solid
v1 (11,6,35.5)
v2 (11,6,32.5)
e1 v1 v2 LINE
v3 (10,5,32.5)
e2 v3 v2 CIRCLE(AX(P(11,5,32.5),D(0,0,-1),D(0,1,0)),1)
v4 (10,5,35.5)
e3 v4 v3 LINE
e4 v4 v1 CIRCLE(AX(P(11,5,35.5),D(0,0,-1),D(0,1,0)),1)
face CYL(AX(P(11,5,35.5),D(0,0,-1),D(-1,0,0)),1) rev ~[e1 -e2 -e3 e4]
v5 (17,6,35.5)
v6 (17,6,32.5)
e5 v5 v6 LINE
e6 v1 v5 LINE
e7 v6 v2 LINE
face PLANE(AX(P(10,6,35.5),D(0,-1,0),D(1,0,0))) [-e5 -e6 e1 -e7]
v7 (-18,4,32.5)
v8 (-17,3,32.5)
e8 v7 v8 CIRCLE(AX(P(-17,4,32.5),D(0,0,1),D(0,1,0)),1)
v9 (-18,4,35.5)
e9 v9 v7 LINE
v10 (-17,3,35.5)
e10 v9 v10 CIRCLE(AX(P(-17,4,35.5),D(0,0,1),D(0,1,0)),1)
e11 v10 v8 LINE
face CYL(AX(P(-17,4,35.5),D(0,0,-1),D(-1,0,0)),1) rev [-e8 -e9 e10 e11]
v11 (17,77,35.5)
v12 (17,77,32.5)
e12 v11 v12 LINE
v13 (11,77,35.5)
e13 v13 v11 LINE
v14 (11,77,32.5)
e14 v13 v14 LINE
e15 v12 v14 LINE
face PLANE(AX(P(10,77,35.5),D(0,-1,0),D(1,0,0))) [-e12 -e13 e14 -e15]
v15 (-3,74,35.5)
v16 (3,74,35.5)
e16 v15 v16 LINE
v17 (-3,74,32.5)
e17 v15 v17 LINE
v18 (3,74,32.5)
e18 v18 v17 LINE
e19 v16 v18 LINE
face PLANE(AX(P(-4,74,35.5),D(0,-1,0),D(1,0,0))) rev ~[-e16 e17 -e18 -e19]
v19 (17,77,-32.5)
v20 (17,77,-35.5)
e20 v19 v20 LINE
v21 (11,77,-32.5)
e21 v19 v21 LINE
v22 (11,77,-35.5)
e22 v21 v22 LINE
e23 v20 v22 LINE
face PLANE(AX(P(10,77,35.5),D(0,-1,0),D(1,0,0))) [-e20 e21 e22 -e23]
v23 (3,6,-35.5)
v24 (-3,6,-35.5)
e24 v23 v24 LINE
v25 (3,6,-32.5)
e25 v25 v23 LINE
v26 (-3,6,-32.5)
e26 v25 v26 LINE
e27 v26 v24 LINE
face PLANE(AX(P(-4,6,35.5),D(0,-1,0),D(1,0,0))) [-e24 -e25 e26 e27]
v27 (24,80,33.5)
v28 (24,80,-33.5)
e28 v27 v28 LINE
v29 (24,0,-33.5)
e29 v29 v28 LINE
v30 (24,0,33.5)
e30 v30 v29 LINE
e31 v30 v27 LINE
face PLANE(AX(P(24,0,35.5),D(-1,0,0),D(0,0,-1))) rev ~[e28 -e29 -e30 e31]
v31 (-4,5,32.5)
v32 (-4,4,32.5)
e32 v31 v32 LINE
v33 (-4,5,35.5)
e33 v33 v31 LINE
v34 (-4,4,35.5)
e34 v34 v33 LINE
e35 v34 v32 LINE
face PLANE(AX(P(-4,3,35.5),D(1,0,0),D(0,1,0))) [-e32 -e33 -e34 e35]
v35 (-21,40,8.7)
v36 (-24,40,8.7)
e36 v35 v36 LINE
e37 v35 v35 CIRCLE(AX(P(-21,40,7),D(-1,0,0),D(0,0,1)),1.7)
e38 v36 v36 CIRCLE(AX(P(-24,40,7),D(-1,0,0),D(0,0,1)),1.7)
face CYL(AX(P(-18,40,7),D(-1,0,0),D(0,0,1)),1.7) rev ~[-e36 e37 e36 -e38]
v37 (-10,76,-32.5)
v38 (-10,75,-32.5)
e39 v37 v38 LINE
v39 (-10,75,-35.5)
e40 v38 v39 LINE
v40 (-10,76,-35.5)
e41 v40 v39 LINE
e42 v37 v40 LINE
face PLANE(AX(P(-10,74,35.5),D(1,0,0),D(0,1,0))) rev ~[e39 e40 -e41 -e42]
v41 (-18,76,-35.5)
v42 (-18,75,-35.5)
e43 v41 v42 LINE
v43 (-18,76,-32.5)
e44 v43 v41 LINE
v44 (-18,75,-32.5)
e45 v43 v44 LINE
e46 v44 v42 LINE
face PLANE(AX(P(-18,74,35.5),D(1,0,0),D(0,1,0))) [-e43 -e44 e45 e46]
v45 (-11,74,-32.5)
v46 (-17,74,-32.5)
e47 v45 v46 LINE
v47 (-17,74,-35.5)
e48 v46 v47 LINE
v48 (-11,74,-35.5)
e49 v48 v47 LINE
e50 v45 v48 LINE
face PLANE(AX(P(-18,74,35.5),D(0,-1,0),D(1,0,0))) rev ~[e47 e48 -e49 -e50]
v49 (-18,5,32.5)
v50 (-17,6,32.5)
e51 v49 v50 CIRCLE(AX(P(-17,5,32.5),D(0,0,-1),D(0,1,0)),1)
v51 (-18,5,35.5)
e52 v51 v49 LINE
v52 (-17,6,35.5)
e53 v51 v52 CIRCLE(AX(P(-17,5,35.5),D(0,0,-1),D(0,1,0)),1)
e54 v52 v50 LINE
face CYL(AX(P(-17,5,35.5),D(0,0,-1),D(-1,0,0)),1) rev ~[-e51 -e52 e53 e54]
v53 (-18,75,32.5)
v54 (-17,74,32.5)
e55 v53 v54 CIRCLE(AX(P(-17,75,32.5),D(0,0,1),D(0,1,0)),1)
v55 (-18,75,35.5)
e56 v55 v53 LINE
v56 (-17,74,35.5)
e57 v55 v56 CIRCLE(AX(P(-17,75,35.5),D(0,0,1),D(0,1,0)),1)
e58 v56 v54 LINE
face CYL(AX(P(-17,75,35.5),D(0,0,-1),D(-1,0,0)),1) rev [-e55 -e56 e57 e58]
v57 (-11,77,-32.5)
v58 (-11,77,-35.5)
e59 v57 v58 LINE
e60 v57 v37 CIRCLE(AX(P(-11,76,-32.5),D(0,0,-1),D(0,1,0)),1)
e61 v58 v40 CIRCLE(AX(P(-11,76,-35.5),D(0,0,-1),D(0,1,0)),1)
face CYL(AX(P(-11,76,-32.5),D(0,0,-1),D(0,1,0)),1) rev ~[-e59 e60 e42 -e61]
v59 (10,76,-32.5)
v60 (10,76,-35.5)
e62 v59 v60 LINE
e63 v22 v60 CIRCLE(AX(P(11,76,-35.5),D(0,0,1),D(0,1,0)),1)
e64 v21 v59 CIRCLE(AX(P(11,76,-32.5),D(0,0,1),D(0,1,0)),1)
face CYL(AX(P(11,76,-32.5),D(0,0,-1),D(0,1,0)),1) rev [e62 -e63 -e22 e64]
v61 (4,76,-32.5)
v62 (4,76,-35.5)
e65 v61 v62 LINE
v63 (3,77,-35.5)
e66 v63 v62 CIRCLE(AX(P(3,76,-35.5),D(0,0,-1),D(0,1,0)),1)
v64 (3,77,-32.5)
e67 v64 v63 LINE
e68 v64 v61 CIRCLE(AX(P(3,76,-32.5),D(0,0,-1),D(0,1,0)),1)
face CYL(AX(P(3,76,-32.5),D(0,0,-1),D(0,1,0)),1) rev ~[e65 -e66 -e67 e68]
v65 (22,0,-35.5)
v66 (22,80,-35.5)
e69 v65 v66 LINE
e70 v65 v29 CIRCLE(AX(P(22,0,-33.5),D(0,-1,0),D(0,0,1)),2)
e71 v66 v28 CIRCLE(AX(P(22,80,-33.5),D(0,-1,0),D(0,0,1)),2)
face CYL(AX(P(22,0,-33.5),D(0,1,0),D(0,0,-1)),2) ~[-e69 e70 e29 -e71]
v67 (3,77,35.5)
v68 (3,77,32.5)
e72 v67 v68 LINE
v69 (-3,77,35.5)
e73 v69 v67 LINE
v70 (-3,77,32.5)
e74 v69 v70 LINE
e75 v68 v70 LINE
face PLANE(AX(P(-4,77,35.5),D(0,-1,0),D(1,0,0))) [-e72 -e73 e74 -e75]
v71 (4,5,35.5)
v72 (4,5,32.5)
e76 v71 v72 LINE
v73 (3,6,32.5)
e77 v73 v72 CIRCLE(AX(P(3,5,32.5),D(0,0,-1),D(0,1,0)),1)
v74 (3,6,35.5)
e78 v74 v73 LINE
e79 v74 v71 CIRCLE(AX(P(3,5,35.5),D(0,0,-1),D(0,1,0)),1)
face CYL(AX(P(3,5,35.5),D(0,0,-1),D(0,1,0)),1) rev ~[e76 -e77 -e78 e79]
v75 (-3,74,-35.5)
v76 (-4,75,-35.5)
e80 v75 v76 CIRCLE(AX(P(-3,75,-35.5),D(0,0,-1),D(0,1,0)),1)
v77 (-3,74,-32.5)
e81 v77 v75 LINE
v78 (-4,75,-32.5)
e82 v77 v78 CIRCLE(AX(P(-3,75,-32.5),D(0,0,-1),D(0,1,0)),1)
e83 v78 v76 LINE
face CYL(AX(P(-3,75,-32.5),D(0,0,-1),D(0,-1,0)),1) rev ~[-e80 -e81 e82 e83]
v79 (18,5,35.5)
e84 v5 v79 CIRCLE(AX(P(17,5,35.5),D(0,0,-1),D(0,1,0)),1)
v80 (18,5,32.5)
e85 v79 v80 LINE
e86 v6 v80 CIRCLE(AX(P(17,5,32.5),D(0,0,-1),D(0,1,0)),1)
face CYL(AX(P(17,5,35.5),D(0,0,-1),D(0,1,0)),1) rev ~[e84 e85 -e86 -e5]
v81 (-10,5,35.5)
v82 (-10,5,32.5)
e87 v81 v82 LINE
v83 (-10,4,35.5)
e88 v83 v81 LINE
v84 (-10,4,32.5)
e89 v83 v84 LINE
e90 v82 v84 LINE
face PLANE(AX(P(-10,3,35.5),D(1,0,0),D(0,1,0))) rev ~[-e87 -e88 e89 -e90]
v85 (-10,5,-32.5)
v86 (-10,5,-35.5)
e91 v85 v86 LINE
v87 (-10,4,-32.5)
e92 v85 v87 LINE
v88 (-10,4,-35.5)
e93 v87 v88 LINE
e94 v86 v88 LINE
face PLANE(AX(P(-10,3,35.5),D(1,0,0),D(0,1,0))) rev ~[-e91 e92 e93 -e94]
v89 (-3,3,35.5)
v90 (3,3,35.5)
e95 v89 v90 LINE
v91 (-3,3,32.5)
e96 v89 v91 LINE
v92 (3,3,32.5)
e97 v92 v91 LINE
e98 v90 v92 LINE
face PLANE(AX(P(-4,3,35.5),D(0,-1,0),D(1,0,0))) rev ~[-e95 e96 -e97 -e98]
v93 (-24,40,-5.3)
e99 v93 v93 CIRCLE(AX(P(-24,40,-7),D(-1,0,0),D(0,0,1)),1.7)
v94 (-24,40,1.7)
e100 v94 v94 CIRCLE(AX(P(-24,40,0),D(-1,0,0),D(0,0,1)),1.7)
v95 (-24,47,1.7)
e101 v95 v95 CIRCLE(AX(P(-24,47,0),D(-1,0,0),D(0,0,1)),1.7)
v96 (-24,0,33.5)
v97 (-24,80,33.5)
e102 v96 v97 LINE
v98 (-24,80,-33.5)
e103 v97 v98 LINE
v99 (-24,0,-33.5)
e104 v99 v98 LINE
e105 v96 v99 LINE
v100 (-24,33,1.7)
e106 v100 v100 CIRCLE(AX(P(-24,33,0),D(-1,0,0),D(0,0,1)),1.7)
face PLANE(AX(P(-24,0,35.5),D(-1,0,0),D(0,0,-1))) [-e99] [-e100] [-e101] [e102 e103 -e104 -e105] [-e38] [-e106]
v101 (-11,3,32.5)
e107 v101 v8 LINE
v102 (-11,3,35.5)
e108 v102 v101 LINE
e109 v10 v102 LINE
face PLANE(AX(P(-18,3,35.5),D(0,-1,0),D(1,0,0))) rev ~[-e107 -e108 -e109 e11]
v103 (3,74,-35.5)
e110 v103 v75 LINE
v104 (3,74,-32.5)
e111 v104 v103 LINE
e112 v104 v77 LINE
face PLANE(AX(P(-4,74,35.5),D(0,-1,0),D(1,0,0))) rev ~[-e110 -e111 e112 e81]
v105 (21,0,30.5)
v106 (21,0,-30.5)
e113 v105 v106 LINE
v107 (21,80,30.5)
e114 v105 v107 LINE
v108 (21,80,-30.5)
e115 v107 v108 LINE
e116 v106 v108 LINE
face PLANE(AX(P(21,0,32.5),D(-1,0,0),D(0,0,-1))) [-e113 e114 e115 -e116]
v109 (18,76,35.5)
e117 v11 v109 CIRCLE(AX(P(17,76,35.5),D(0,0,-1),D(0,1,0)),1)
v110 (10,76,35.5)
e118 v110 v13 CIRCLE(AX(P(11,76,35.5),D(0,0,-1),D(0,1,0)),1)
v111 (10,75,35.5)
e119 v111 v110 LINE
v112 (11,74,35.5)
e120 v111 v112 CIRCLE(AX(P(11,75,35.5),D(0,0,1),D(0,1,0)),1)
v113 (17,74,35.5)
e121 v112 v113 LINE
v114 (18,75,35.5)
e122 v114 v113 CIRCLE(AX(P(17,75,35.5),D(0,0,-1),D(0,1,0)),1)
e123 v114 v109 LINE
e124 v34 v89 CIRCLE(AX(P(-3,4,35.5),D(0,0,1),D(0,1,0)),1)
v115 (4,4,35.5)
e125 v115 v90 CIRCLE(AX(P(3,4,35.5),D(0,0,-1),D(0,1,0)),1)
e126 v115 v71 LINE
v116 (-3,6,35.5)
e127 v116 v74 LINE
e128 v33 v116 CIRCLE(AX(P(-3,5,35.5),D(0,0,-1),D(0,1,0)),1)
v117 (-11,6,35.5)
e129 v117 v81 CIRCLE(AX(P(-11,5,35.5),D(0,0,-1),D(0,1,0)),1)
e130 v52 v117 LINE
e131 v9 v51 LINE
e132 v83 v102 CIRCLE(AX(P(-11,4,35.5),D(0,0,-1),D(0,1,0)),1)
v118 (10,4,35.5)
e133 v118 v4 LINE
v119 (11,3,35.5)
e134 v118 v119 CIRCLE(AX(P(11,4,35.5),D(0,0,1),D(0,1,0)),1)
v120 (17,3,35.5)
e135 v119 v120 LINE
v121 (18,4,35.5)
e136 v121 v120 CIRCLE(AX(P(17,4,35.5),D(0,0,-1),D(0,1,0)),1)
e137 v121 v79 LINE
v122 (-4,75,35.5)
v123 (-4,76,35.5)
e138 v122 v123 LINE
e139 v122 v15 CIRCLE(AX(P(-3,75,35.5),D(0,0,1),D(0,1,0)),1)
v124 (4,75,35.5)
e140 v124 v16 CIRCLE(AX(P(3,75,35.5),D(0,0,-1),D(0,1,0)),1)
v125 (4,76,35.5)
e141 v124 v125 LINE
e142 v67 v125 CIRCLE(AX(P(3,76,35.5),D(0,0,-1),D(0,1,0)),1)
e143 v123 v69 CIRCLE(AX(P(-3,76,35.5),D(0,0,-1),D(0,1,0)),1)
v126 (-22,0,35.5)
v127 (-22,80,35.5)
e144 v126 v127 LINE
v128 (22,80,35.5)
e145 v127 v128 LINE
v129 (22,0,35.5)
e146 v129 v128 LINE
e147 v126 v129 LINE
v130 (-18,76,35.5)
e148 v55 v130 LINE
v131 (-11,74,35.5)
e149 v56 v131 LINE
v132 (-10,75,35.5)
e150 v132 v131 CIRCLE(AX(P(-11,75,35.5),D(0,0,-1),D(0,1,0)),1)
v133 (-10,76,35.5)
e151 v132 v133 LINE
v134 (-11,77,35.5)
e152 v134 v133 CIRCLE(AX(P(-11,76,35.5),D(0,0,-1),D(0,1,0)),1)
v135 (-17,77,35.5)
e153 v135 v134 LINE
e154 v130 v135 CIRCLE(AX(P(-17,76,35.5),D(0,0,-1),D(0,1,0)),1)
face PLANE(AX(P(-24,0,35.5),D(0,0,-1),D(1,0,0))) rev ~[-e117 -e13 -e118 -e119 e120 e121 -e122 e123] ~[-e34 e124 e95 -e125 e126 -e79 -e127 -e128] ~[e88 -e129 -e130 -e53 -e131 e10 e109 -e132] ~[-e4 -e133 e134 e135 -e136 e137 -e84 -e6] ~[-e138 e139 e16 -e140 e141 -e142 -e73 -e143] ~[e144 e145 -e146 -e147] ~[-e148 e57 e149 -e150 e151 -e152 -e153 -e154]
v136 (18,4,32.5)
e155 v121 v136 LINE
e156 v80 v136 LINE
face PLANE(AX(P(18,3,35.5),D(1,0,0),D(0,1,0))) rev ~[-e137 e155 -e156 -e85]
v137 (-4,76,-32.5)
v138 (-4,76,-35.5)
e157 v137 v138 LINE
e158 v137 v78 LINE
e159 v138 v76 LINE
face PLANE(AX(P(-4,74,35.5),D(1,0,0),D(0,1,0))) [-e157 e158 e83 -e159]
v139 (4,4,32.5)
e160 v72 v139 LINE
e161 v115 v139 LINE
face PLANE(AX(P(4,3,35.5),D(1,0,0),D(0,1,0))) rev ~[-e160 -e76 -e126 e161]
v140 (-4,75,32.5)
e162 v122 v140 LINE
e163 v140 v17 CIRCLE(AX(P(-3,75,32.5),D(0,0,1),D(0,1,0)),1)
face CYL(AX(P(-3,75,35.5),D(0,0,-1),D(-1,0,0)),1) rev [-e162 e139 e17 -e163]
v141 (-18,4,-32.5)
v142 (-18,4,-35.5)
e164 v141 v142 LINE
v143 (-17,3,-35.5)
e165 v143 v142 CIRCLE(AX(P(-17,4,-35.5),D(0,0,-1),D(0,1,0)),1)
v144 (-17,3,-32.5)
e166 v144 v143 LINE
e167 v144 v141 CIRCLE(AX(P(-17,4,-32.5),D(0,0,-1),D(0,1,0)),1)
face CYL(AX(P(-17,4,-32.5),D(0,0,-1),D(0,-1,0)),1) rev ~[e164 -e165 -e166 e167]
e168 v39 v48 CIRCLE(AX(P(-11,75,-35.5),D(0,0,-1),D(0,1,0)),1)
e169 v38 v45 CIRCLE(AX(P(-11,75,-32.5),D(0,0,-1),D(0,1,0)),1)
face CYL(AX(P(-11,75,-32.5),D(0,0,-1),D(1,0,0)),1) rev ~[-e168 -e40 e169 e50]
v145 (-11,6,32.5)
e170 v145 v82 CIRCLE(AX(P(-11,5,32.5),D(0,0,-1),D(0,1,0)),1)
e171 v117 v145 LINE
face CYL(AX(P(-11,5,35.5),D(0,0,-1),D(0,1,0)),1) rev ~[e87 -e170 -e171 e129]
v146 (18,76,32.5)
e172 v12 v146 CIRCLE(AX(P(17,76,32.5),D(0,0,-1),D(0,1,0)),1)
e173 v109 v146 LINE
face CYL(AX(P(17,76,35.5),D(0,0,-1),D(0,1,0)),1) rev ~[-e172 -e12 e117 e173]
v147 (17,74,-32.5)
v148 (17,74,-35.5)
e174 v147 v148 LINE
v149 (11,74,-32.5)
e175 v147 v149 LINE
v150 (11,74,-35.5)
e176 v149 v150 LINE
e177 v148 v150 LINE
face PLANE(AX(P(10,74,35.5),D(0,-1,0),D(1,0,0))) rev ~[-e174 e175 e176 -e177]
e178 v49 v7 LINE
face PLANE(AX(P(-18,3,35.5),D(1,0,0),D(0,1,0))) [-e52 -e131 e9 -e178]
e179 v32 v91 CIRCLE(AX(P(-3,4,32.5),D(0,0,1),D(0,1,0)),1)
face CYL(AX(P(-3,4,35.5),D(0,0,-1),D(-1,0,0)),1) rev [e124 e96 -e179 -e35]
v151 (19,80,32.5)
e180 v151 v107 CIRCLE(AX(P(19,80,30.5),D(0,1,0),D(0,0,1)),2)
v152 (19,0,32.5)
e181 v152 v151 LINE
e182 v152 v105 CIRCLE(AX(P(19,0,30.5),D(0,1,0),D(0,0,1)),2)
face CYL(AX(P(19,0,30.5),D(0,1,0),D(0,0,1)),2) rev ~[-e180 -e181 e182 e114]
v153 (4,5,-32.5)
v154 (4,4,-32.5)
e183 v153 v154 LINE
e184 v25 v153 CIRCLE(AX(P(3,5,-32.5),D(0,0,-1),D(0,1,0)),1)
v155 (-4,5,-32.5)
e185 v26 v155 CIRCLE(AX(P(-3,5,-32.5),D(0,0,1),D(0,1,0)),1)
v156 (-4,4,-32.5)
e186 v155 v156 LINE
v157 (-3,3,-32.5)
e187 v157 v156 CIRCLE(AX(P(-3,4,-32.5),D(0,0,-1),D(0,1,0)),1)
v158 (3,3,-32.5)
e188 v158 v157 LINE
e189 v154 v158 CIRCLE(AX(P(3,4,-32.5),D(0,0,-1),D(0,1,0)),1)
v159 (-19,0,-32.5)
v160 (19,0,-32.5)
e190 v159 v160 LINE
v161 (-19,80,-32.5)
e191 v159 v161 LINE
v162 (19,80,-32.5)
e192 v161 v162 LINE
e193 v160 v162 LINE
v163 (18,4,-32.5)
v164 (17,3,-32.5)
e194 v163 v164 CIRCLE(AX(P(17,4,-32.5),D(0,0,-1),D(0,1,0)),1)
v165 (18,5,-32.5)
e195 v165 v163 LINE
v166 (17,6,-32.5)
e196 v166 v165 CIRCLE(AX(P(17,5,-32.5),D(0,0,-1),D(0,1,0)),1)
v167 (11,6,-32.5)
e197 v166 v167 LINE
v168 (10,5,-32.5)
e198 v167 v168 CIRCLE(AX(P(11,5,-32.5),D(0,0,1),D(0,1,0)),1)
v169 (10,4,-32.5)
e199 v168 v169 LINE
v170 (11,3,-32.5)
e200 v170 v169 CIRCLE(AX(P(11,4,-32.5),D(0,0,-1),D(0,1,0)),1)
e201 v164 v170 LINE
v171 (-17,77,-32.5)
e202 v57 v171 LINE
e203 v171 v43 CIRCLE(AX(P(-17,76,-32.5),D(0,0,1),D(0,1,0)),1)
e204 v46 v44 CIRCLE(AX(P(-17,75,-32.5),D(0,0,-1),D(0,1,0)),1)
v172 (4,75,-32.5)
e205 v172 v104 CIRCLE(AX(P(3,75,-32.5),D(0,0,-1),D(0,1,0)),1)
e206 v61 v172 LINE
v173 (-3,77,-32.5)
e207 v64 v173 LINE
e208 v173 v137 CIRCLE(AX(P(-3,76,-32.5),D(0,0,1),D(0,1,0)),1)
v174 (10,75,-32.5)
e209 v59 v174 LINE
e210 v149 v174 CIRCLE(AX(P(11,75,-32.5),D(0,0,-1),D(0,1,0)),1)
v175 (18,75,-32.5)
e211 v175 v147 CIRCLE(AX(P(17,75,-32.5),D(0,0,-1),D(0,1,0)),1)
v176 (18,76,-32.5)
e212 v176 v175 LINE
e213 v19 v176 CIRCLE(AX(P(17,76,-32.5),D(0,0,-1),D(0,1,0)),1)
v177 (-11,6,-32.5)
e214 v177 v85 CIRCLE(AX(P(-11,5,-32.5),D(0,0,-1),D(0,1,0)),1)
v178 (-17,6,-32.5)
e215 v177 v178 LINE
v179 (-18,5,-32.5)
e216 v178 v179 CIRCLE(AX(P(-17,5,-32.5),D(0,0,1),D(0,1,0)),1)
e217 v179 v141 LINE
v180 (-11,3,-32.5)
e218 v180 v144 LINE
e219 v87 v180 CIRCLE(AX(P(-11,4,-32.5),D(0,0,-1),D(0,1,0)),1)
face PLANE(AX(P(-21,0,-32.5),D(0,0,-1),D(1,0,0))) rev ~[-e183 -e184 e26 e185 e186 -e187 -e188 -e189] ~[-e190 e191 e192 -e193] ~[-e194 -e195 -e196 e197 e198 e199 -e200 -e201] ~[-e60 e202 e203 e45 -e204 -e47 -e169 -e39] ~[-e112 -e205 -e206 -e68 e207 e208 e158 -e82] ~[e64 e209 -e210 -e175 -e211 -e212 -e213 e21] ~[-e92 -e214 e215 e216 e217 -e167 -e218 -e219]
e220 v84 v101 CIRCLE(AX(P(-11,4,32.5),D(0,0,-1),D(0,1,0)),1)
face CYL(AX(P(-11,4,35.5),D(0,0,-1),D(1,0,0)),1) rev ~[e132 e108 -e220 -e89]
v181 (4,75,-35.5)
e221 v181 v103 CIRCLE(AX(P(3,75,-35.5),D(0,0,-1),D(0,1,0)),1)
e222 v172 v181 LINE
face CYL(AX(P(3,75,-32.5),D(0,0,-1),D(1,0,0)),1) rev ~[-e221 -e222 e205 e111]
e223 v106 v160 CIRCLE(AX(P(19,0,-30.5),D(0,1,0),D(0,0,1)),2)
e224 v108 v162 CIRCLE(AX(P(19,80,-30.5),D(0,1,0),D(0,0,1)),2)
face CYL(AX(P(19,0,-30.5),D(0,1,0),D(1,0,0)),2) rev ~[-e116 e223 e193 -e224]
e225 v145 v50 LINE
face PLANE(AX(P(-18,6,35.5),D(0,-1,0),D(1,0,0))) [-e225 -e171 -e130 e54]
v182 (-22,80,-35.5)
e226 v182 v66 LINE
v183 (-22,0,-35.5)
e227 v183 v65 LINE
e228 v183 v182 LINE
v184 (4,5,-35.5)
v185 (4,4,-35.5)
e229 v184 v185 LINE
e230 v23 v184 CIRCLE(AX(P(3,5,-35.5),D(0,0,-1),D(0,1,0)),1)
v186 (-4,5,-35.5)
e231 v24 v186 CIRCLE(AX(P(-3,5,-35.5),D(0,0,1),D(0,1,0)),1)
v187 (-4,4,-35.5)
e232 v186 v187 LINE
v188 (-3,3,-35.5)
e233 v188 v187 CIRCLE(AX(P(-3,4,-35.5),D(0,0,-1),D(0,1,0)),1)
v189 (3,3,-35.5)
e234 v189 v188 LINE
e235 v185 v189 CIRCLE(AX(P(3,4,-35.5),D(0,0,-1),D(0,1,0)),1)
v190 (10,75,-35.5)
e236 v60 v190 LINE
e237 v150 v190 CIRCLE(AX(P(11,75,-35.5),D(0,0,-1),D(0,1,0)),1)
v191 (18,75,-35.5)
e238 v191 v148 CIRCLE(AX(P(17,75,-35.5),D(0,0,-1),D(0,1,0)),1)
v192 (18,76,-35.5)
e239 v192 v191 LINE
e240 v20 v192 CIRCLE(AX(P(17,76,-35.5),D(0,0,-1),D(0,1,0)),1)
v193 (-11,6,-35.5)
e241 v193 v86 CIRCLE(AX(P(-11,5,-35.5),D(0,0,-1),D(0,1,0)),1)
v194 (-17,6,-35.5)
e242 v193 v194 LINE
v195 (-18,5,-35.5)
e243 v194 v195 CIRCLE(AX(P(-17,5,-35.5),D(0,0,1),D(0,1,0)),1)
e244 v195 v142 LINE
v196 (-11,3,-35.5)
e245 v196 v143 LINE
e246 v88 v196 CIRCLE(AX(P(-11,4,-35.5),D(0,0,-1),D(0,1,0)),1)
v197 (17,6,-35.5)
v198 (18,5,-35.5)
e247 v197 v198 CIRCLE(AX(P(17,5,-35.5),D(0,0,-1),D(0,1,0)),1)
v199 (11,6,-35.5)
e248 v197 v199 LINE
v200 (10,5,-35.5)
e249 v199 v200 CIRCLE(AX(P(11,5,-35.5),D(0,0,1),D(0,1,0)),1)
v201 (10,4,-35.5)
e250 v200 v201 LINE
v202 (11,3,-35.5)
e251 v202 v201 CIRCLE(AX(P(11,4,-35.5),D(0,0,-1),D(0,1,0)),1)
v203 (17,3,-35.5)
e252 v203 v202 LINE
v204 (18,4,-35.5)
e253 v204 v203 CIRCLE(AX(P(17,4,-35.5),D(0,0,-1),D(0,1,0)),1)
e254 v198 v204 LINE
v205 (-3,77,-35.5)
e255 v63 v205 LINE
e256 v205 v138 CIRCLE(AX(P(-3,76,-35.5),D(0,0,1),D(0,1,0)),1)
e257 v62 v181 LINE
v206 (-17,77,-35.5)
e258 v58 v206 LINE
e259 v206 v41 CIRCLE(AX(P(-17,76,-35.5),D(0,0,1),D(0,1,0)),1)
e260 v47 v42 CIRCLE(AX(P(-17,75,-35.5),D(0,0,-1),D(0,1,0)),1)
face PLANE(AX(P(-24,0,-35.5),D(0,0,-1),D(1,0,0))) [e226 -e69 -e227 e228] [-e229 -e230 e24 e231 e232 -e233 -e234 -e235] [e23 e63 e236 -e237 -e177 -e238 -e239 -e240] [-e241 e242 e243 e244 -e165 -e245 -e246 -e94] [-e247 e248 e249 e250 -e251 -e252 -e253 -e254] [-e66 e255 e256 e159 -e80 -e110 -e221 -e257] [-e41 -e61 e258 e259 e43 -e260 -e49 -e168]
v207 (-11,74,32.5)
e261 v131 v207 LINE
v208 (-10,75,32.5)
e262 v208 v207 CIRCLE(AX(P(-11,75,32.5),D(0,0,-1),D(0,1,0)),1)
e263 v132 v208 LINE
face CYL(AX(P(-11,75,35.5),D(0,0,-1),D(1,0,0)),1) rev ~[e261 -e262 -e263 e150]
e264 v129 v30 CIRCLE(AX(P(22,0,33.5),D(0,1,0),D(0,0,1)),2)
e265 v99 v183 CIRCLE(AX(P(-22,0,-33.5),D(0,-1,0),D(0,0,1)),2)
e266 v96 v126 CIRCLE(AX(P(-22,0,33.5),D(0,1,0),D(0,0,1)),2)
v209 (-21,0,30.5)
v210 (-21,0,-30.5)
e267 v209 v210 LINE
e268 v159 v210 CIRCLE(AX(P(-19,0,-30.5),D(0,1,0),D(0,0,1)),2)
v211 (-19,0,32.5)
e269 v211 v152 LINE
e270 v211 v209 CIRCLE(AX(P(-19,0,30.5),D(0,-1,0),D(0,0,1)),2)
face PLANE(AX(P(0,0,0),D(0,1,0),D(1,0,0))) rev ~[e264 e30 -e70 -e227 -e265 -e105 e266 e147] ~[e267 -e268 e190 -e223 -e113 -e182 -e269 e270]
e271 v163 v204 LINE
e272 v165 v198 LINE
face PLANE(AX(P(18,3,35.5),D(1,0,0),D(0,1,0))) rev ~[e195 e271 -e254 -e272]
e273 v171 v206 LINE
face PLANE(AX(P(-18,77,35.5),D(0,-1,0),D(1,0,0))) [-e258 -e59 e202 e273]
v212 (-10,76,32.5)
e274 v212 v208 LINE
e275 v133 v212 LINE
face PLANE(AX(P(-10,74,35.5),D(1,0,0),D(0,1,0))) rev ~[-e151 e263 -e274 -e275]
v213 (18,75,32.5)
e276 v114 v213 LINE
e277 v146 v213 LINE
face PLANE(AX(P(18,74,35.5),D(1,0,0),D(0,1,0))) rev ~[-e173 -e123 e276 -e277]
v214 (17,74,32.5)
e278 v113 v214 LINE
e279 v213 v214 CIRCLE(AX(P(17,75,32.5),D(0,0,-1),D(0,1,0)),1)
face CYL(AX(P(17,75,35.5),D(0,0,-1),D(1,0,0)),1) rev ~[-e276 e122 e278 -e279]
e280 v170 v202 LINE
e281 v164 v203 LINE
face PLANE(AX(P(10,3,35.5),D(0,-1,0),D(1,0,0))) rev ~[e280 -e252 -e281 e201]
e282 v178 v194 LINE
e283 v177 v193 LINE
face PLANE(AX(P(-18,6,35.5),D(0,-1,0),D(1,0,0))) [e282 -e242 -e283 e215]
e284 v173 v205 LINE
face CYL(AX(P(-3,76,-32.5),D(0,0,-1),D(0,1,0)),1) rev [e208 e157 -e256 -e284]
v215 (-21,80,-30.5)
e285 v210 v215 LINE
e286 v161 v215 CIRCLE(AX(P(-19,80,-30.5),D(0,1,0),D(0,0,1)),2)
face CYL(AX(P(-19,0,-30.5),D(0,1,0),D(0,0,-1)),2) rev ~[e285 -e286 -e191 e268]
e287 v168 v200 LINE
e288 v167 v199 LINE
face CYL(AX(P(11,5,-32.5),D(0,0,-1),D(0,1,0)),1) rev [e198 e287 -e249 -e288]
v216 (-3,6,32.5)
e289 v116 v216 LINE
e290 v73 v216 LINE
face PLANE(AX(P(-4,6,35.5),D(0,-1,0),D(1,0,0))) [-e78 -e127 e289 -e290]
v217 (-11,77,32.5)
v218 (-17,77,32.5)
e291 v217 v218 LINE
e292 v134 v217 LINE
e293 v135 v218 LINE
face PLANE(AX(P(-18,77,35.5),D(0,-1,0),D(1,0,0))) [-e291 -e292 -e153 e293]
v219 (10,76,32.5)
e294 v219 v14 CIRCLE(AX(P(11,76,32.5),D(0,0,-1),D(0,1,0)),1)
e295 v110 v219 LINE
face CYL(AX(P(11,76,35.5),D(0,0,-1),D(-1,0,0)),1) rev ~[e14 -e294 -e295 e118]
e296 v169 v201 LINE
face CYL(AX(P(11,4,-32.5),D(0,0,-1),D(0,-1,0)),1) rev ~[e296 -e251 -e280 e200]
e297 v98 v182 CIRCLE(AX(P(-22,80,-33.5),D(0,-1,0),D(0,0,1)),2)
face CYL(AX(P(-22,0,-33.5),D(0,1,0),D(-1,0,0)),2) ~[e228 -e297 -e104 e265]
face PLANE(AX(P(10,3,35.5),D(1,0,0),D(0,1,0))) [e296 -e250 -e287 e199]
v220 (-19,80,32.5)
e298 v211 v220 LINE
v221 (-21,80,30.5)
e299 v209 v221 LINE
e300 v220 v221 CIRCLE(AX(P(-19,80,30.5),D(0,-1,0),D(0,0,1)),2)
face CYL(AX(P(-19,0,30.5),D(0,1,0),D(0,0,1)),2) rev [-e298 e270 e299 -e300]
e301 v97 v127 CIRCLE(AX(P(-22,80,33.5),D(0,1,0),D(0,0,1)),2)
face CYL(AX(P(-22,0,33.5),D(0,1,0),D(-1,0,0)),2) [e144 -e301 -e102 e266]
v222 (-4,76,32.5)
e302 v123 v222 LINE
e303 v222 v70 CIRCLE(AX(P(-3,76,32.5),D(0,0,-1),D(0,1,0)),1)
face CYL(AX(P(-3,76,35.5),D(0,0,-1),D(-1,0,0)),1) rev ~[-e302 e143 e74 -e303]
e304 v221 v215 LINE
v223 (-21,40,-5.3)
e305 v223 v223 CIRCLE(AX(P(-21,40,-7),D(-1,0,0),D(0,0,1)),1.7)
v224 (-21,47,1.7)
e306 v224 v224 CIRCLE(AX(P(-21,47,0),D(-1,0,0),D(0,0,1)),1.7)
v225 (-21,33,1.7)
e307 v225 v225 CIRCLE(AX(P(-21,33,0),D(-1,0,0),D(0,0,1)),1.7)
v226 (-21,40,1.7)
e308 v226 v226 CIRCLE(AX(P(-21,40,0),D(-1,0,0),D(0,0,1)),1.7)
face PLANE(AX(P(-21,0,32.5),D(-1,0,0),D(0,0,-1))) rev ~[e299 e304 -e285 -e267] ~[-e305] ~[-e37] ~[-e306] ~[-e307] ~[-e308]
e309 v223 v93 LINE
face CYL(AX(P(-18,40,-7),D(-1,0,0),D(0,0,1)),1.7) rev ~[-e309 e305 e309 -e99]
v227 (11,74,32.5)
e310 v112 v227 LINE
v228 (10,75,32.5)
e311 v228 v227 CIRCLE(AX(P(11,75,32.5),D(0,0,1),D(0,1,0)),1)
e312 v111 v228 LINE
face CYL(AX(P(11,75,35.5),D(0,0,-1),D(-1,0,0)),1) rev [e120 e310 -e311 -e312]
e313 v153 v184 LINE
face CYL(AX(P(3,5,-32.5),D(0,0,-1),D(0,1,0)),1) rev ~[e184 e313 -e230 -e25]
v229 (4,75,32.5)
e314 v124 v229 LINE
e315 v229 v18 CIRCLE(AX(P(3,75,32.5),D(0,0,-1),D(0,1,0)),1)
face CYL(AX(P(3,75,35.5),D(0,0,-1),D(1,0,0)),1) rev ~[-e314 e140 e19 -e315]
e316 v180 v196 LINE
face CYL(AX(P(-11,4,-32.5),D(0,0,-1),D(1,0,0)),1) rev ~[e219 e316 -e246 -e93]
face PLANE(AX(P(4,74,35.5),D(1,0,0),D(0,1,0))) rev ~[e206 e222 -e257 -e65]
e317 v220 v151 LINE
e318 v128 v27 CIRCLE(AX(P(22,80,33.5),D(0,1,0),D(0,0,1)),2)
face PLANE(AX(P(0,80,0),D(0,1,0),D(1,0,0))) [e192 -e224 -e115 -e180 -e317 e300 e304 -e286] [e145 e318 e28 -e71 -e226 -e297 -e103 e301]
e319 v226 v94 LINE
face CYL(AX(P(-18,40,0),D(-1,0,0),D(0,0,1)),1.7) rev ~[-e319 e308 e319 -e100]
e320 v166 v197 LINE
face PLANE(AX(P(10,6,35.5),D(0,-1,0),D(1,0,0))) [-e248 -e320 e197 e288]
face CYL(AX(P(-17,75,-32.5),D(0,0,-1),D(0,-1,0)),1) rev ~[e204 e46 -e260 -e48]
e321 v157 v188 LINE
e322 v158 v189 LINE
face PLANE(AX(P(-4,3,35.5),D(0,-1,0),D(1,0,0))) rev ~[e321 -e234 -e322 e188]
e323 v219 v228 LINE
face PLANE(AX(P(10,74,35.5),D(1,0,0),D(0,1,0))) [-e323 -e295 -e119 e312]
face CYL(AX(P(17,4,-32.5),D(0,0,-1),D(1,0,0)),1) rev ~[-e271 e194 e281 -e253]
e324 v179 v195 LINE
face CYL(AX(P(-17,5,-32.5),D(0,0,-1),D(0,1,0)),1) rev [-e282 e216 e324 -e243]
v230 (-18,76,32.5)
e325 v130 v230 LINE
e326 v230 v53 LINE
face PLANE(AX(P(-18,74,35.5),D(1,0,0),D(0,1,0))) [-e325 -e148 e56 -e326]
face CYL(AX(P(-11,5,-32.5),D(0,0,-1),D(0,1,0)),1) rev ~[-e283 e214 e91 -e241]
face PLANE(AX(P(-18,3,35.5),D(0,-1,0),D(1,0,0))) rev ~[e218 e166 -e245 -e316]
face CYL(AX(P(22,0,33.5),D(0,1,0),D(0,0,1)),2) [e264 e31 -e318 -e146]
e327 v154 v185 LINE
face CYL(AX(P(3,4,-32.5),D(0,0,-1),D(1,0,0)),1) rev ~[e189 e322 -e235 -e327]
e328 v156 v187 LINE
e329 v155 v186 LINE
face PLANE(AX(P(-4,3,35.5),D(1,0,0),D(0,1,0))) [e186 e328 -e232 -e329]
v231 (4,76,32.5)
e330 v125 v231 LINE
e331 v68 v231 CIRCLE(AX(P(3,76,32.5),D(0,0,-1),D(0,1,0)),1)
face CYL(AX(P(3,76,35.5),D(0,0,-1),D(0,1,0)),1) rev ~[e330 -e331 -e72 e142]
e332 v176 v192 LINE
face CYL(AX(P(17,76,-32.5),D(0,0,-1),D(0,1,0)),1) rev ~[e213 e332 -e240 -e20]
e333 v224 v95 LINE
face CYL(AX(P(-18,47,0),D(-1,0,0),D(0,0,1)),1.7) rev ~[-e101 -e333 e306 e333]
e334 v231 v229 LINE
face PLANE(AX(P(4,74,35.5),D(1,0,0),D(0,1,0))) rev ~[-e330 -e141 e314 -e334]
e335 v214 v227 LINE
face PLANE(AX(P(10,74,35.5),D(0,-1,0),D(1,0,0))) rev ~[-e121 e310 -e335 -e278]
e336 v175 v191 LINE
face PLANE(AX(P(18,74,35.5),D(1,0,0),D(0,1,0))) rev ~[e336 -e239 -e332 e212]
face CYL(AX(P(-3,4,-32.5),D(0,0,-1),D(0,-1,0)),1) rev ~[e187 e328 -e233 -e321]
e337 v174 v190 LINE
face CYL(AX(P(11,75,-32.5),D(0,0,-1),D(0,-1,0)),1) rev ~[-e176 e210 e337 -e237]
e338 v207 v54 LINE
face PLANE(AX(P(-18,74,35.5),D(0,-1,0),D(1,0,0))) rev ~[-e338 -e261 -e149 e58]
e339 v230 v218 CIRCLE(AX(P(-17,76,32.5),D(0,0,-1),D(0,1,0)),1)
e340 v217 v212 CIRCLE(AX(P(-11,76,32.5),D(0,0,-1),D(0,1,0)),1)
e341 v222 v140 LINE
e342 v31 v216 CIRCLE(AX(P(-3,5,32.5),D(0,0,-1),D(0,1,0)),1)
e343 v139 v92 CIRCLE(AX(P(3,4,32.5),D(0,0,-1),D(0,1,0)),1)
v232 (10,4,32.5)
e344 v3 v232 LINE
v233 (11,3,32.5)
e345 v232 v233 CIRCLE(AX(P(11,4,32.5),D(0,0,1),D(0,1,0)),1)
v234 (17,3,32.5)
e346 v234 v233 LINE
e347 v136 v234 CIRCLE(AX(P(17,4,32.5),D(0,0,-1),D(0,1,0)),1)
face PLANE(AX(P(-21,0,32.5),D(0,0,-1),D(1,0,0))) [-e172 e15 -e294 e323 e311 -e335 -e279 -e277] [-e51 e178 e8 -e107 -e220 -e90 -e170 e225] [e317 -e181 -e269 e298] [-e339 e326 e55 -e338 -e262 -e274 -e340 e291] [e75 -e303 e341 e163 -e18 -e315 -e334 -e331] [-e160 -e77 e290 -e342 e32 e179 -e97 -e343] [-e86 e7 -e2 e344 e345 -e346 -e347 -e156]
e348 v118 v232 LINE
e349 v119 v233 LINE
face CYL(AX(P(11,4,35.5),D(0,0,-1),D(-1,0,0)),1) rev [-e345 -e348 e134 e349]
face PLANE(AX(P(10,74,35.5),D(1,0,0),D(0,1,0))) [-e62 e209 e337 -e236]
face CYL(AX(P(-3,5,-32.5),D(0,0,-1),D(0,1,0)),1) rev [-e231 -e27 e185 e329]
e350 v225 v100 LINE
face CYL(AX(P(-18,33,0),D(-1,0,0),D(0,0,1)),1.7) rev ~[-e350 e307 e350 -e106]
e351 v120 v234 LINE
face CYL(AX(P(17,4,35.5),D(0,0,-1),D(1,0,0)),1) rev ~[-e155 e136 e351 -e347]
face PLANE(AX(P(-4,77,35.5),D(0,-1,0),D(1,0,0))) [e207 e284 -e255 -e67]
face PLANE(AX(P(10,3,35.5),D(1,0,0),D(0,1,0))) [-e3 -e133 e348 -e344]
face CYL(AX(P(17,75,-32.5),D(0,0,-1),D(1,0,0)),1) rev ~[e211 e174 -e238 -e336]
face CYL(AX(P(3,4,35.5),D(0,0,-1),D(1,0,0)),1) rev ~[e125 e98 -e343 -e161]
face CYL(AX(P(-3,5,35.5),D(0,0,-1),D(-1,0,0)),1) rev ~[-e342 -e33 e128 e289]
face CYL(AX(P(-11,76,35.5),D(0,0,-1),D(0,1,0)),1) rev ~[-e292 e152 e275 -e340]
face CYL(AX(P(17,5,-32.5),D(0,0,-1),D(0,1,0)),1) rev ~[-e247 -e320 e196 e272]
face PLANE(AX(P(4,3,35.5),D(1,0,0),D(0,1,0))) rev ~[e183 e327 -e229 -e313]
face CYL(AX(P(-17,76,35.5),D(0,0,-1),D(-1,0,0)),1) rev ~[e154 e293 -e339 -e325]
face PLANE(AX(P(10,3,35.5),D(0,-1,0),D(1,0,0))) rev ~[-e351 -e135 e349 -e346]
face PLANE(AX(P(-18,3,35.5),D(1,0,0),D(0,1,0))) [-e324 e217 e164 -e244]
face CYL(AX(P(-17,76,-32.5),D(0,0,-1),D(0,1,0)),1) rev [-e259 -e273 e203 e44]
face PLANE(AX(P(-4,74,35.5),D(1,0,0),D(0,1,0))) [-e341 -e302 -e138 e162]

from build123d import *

# Parameters (mm, degrees)
SKETCH1_W                = 48
SKETCH1_H                = 71
SKETCH1_W_2              = 42
SKETCH1_H_2              = 65
BOSS_EXTRUDE1_DEPTH      = 80
M3_CLEARANCE_HOLE1_D     = 3.4
M3_CLEARANCE_HOLE1_DEPTH = 3
SKETCH5_W                = 8
SKETCH5_H                = 3
CUT_EXTRUDE1_DEPTH       = 110.622078068
FILLET1_R                = 2
FILLET2_R                = 1


with BuildPart() as part:
    # Sketch1 → Boss-Extrude1 (new body)
    with BuildSketch(Plane(origin=(0, 0, 0), x_dir=(1, 0, 0), z_dir=(0, 1, 0))):
        Rectangle(SKETCH1_W, SKETCH1_H)
        Rectangle(SKETCH1_W_2, SKETCH1_H_2, mode=Mode.SUBTRACT)
    extrude(amount=BOSS_EXTRUDE1_DEPTH)

    # M3 Clearance Hole1
    with Locations(Plane(origin=(-21, 0, 0), x_dir=(0, 0, -1), z_dir=(1, 0, 0))):
        with Locations((0, 40), (0, 47), (7, 40), (0, 33), (-7, 40)):
            Hole(M3_CLEARANCE_HOLE1_D / 2, depth=M3_CLEARANCE_HOLE1_DEPTH)

    # Sketch5 → Cut-Extrude1 (cut, through all)
    with BuildSketch(Plane.XY.offset(35.5)):
        with Locations((0, 4.5)):
            Rectangle(SKETCH5_W, SKETCH5_H)
        with Locations((0, 75.5)):
            Rectangle(SKETCH5_W, SKETCH5_H)
        with Locations((14, 4.5)):
            Rectangle(SKETCH5_W, SKETCH5_H)
        with Locations((-14, 4.5)):
            Rectangle(SKETCH5_W, SKETCH5_H)
        with Locations((-14, 75.5)):
            Rectangle(SKETCH5_W, SKETCH5_H)
        with Locations((14, 75.5)):
            Rectangle(SKETCH5_W, SKETCH5_H)
    extrude(amount=-CUT_EXTRUDE1_DEPTH, mode=Mode.SUBTRACT)

    # Fillet1
    fillet1_edges = [part.edges().sort_by_distance(p)[0] for p in [
        (21, 40, 32.5),
        (21, 40, -32.5),
        (-21, 40, -32.5),
        (-21, 40, 32.5),
        (-24, 40, -35.5),
        (24, 40, -35.5),
        (24, 40, 35.5),
        (-24, 40, 35.5),
    ]]
    fillet(fillet1_edges, radius=FILLET1_R)

    # Fillet2
    fillet2_edges = [part.edges().sort_by_distance(p)[0] for p in [
        (-4, 74, -34),
        (-4, 77, -34),
        (4, 77, -34),
        (4, 74, -34),
        (-4, 74, 34),
        (-4, 77, 34),
        (4, 77, 34),
        (4, 74, 34),
        (18, 6, -34),
        (18, 3, -34),
        (10, 3, -34),
        (10, 6, -34),
        (18, 6, 34),
        (18, 3, 34),
        (10, 3, 34),
        (10, 6, 34),
        (-10, 6, -34),
        (-10, 3, -34),
        (-18, 3, -34),
        (-18, 6, -34),
        (-10, 6, 34),
        (-10, 3, 34),
        (-18, 3, 34),
        (-18, 6, 34),
        (-18, 74, -34),
        (-18, 77, -34),
        (-10, 77, -34),
        (-10, 74, -34),
        (-18, 74, 34),
        (-18, 77, 34),
        (-10, 77, 34),
        (-10, 74, 34),
        (10, 74, -34),
        (10, 77, -34),
        (18, 77, -34),
        (18, 74, -34),
        (10, 74, 34),
        (10, 77, 34),
        (18, 77, 34),
        (18, 74, 34),
        (4, 6, -34),
        (4, 3, -34),
        (-4, 3, -34),
        (-4, 6, -34),
        (4, 6, 34),
        (4, 3, 34),
        (-4, 3, 34),
        (-4, 6, 34),
    ]]
    fillet(fillet2_edges, radius=FILLET2_R)


solid = part.part
